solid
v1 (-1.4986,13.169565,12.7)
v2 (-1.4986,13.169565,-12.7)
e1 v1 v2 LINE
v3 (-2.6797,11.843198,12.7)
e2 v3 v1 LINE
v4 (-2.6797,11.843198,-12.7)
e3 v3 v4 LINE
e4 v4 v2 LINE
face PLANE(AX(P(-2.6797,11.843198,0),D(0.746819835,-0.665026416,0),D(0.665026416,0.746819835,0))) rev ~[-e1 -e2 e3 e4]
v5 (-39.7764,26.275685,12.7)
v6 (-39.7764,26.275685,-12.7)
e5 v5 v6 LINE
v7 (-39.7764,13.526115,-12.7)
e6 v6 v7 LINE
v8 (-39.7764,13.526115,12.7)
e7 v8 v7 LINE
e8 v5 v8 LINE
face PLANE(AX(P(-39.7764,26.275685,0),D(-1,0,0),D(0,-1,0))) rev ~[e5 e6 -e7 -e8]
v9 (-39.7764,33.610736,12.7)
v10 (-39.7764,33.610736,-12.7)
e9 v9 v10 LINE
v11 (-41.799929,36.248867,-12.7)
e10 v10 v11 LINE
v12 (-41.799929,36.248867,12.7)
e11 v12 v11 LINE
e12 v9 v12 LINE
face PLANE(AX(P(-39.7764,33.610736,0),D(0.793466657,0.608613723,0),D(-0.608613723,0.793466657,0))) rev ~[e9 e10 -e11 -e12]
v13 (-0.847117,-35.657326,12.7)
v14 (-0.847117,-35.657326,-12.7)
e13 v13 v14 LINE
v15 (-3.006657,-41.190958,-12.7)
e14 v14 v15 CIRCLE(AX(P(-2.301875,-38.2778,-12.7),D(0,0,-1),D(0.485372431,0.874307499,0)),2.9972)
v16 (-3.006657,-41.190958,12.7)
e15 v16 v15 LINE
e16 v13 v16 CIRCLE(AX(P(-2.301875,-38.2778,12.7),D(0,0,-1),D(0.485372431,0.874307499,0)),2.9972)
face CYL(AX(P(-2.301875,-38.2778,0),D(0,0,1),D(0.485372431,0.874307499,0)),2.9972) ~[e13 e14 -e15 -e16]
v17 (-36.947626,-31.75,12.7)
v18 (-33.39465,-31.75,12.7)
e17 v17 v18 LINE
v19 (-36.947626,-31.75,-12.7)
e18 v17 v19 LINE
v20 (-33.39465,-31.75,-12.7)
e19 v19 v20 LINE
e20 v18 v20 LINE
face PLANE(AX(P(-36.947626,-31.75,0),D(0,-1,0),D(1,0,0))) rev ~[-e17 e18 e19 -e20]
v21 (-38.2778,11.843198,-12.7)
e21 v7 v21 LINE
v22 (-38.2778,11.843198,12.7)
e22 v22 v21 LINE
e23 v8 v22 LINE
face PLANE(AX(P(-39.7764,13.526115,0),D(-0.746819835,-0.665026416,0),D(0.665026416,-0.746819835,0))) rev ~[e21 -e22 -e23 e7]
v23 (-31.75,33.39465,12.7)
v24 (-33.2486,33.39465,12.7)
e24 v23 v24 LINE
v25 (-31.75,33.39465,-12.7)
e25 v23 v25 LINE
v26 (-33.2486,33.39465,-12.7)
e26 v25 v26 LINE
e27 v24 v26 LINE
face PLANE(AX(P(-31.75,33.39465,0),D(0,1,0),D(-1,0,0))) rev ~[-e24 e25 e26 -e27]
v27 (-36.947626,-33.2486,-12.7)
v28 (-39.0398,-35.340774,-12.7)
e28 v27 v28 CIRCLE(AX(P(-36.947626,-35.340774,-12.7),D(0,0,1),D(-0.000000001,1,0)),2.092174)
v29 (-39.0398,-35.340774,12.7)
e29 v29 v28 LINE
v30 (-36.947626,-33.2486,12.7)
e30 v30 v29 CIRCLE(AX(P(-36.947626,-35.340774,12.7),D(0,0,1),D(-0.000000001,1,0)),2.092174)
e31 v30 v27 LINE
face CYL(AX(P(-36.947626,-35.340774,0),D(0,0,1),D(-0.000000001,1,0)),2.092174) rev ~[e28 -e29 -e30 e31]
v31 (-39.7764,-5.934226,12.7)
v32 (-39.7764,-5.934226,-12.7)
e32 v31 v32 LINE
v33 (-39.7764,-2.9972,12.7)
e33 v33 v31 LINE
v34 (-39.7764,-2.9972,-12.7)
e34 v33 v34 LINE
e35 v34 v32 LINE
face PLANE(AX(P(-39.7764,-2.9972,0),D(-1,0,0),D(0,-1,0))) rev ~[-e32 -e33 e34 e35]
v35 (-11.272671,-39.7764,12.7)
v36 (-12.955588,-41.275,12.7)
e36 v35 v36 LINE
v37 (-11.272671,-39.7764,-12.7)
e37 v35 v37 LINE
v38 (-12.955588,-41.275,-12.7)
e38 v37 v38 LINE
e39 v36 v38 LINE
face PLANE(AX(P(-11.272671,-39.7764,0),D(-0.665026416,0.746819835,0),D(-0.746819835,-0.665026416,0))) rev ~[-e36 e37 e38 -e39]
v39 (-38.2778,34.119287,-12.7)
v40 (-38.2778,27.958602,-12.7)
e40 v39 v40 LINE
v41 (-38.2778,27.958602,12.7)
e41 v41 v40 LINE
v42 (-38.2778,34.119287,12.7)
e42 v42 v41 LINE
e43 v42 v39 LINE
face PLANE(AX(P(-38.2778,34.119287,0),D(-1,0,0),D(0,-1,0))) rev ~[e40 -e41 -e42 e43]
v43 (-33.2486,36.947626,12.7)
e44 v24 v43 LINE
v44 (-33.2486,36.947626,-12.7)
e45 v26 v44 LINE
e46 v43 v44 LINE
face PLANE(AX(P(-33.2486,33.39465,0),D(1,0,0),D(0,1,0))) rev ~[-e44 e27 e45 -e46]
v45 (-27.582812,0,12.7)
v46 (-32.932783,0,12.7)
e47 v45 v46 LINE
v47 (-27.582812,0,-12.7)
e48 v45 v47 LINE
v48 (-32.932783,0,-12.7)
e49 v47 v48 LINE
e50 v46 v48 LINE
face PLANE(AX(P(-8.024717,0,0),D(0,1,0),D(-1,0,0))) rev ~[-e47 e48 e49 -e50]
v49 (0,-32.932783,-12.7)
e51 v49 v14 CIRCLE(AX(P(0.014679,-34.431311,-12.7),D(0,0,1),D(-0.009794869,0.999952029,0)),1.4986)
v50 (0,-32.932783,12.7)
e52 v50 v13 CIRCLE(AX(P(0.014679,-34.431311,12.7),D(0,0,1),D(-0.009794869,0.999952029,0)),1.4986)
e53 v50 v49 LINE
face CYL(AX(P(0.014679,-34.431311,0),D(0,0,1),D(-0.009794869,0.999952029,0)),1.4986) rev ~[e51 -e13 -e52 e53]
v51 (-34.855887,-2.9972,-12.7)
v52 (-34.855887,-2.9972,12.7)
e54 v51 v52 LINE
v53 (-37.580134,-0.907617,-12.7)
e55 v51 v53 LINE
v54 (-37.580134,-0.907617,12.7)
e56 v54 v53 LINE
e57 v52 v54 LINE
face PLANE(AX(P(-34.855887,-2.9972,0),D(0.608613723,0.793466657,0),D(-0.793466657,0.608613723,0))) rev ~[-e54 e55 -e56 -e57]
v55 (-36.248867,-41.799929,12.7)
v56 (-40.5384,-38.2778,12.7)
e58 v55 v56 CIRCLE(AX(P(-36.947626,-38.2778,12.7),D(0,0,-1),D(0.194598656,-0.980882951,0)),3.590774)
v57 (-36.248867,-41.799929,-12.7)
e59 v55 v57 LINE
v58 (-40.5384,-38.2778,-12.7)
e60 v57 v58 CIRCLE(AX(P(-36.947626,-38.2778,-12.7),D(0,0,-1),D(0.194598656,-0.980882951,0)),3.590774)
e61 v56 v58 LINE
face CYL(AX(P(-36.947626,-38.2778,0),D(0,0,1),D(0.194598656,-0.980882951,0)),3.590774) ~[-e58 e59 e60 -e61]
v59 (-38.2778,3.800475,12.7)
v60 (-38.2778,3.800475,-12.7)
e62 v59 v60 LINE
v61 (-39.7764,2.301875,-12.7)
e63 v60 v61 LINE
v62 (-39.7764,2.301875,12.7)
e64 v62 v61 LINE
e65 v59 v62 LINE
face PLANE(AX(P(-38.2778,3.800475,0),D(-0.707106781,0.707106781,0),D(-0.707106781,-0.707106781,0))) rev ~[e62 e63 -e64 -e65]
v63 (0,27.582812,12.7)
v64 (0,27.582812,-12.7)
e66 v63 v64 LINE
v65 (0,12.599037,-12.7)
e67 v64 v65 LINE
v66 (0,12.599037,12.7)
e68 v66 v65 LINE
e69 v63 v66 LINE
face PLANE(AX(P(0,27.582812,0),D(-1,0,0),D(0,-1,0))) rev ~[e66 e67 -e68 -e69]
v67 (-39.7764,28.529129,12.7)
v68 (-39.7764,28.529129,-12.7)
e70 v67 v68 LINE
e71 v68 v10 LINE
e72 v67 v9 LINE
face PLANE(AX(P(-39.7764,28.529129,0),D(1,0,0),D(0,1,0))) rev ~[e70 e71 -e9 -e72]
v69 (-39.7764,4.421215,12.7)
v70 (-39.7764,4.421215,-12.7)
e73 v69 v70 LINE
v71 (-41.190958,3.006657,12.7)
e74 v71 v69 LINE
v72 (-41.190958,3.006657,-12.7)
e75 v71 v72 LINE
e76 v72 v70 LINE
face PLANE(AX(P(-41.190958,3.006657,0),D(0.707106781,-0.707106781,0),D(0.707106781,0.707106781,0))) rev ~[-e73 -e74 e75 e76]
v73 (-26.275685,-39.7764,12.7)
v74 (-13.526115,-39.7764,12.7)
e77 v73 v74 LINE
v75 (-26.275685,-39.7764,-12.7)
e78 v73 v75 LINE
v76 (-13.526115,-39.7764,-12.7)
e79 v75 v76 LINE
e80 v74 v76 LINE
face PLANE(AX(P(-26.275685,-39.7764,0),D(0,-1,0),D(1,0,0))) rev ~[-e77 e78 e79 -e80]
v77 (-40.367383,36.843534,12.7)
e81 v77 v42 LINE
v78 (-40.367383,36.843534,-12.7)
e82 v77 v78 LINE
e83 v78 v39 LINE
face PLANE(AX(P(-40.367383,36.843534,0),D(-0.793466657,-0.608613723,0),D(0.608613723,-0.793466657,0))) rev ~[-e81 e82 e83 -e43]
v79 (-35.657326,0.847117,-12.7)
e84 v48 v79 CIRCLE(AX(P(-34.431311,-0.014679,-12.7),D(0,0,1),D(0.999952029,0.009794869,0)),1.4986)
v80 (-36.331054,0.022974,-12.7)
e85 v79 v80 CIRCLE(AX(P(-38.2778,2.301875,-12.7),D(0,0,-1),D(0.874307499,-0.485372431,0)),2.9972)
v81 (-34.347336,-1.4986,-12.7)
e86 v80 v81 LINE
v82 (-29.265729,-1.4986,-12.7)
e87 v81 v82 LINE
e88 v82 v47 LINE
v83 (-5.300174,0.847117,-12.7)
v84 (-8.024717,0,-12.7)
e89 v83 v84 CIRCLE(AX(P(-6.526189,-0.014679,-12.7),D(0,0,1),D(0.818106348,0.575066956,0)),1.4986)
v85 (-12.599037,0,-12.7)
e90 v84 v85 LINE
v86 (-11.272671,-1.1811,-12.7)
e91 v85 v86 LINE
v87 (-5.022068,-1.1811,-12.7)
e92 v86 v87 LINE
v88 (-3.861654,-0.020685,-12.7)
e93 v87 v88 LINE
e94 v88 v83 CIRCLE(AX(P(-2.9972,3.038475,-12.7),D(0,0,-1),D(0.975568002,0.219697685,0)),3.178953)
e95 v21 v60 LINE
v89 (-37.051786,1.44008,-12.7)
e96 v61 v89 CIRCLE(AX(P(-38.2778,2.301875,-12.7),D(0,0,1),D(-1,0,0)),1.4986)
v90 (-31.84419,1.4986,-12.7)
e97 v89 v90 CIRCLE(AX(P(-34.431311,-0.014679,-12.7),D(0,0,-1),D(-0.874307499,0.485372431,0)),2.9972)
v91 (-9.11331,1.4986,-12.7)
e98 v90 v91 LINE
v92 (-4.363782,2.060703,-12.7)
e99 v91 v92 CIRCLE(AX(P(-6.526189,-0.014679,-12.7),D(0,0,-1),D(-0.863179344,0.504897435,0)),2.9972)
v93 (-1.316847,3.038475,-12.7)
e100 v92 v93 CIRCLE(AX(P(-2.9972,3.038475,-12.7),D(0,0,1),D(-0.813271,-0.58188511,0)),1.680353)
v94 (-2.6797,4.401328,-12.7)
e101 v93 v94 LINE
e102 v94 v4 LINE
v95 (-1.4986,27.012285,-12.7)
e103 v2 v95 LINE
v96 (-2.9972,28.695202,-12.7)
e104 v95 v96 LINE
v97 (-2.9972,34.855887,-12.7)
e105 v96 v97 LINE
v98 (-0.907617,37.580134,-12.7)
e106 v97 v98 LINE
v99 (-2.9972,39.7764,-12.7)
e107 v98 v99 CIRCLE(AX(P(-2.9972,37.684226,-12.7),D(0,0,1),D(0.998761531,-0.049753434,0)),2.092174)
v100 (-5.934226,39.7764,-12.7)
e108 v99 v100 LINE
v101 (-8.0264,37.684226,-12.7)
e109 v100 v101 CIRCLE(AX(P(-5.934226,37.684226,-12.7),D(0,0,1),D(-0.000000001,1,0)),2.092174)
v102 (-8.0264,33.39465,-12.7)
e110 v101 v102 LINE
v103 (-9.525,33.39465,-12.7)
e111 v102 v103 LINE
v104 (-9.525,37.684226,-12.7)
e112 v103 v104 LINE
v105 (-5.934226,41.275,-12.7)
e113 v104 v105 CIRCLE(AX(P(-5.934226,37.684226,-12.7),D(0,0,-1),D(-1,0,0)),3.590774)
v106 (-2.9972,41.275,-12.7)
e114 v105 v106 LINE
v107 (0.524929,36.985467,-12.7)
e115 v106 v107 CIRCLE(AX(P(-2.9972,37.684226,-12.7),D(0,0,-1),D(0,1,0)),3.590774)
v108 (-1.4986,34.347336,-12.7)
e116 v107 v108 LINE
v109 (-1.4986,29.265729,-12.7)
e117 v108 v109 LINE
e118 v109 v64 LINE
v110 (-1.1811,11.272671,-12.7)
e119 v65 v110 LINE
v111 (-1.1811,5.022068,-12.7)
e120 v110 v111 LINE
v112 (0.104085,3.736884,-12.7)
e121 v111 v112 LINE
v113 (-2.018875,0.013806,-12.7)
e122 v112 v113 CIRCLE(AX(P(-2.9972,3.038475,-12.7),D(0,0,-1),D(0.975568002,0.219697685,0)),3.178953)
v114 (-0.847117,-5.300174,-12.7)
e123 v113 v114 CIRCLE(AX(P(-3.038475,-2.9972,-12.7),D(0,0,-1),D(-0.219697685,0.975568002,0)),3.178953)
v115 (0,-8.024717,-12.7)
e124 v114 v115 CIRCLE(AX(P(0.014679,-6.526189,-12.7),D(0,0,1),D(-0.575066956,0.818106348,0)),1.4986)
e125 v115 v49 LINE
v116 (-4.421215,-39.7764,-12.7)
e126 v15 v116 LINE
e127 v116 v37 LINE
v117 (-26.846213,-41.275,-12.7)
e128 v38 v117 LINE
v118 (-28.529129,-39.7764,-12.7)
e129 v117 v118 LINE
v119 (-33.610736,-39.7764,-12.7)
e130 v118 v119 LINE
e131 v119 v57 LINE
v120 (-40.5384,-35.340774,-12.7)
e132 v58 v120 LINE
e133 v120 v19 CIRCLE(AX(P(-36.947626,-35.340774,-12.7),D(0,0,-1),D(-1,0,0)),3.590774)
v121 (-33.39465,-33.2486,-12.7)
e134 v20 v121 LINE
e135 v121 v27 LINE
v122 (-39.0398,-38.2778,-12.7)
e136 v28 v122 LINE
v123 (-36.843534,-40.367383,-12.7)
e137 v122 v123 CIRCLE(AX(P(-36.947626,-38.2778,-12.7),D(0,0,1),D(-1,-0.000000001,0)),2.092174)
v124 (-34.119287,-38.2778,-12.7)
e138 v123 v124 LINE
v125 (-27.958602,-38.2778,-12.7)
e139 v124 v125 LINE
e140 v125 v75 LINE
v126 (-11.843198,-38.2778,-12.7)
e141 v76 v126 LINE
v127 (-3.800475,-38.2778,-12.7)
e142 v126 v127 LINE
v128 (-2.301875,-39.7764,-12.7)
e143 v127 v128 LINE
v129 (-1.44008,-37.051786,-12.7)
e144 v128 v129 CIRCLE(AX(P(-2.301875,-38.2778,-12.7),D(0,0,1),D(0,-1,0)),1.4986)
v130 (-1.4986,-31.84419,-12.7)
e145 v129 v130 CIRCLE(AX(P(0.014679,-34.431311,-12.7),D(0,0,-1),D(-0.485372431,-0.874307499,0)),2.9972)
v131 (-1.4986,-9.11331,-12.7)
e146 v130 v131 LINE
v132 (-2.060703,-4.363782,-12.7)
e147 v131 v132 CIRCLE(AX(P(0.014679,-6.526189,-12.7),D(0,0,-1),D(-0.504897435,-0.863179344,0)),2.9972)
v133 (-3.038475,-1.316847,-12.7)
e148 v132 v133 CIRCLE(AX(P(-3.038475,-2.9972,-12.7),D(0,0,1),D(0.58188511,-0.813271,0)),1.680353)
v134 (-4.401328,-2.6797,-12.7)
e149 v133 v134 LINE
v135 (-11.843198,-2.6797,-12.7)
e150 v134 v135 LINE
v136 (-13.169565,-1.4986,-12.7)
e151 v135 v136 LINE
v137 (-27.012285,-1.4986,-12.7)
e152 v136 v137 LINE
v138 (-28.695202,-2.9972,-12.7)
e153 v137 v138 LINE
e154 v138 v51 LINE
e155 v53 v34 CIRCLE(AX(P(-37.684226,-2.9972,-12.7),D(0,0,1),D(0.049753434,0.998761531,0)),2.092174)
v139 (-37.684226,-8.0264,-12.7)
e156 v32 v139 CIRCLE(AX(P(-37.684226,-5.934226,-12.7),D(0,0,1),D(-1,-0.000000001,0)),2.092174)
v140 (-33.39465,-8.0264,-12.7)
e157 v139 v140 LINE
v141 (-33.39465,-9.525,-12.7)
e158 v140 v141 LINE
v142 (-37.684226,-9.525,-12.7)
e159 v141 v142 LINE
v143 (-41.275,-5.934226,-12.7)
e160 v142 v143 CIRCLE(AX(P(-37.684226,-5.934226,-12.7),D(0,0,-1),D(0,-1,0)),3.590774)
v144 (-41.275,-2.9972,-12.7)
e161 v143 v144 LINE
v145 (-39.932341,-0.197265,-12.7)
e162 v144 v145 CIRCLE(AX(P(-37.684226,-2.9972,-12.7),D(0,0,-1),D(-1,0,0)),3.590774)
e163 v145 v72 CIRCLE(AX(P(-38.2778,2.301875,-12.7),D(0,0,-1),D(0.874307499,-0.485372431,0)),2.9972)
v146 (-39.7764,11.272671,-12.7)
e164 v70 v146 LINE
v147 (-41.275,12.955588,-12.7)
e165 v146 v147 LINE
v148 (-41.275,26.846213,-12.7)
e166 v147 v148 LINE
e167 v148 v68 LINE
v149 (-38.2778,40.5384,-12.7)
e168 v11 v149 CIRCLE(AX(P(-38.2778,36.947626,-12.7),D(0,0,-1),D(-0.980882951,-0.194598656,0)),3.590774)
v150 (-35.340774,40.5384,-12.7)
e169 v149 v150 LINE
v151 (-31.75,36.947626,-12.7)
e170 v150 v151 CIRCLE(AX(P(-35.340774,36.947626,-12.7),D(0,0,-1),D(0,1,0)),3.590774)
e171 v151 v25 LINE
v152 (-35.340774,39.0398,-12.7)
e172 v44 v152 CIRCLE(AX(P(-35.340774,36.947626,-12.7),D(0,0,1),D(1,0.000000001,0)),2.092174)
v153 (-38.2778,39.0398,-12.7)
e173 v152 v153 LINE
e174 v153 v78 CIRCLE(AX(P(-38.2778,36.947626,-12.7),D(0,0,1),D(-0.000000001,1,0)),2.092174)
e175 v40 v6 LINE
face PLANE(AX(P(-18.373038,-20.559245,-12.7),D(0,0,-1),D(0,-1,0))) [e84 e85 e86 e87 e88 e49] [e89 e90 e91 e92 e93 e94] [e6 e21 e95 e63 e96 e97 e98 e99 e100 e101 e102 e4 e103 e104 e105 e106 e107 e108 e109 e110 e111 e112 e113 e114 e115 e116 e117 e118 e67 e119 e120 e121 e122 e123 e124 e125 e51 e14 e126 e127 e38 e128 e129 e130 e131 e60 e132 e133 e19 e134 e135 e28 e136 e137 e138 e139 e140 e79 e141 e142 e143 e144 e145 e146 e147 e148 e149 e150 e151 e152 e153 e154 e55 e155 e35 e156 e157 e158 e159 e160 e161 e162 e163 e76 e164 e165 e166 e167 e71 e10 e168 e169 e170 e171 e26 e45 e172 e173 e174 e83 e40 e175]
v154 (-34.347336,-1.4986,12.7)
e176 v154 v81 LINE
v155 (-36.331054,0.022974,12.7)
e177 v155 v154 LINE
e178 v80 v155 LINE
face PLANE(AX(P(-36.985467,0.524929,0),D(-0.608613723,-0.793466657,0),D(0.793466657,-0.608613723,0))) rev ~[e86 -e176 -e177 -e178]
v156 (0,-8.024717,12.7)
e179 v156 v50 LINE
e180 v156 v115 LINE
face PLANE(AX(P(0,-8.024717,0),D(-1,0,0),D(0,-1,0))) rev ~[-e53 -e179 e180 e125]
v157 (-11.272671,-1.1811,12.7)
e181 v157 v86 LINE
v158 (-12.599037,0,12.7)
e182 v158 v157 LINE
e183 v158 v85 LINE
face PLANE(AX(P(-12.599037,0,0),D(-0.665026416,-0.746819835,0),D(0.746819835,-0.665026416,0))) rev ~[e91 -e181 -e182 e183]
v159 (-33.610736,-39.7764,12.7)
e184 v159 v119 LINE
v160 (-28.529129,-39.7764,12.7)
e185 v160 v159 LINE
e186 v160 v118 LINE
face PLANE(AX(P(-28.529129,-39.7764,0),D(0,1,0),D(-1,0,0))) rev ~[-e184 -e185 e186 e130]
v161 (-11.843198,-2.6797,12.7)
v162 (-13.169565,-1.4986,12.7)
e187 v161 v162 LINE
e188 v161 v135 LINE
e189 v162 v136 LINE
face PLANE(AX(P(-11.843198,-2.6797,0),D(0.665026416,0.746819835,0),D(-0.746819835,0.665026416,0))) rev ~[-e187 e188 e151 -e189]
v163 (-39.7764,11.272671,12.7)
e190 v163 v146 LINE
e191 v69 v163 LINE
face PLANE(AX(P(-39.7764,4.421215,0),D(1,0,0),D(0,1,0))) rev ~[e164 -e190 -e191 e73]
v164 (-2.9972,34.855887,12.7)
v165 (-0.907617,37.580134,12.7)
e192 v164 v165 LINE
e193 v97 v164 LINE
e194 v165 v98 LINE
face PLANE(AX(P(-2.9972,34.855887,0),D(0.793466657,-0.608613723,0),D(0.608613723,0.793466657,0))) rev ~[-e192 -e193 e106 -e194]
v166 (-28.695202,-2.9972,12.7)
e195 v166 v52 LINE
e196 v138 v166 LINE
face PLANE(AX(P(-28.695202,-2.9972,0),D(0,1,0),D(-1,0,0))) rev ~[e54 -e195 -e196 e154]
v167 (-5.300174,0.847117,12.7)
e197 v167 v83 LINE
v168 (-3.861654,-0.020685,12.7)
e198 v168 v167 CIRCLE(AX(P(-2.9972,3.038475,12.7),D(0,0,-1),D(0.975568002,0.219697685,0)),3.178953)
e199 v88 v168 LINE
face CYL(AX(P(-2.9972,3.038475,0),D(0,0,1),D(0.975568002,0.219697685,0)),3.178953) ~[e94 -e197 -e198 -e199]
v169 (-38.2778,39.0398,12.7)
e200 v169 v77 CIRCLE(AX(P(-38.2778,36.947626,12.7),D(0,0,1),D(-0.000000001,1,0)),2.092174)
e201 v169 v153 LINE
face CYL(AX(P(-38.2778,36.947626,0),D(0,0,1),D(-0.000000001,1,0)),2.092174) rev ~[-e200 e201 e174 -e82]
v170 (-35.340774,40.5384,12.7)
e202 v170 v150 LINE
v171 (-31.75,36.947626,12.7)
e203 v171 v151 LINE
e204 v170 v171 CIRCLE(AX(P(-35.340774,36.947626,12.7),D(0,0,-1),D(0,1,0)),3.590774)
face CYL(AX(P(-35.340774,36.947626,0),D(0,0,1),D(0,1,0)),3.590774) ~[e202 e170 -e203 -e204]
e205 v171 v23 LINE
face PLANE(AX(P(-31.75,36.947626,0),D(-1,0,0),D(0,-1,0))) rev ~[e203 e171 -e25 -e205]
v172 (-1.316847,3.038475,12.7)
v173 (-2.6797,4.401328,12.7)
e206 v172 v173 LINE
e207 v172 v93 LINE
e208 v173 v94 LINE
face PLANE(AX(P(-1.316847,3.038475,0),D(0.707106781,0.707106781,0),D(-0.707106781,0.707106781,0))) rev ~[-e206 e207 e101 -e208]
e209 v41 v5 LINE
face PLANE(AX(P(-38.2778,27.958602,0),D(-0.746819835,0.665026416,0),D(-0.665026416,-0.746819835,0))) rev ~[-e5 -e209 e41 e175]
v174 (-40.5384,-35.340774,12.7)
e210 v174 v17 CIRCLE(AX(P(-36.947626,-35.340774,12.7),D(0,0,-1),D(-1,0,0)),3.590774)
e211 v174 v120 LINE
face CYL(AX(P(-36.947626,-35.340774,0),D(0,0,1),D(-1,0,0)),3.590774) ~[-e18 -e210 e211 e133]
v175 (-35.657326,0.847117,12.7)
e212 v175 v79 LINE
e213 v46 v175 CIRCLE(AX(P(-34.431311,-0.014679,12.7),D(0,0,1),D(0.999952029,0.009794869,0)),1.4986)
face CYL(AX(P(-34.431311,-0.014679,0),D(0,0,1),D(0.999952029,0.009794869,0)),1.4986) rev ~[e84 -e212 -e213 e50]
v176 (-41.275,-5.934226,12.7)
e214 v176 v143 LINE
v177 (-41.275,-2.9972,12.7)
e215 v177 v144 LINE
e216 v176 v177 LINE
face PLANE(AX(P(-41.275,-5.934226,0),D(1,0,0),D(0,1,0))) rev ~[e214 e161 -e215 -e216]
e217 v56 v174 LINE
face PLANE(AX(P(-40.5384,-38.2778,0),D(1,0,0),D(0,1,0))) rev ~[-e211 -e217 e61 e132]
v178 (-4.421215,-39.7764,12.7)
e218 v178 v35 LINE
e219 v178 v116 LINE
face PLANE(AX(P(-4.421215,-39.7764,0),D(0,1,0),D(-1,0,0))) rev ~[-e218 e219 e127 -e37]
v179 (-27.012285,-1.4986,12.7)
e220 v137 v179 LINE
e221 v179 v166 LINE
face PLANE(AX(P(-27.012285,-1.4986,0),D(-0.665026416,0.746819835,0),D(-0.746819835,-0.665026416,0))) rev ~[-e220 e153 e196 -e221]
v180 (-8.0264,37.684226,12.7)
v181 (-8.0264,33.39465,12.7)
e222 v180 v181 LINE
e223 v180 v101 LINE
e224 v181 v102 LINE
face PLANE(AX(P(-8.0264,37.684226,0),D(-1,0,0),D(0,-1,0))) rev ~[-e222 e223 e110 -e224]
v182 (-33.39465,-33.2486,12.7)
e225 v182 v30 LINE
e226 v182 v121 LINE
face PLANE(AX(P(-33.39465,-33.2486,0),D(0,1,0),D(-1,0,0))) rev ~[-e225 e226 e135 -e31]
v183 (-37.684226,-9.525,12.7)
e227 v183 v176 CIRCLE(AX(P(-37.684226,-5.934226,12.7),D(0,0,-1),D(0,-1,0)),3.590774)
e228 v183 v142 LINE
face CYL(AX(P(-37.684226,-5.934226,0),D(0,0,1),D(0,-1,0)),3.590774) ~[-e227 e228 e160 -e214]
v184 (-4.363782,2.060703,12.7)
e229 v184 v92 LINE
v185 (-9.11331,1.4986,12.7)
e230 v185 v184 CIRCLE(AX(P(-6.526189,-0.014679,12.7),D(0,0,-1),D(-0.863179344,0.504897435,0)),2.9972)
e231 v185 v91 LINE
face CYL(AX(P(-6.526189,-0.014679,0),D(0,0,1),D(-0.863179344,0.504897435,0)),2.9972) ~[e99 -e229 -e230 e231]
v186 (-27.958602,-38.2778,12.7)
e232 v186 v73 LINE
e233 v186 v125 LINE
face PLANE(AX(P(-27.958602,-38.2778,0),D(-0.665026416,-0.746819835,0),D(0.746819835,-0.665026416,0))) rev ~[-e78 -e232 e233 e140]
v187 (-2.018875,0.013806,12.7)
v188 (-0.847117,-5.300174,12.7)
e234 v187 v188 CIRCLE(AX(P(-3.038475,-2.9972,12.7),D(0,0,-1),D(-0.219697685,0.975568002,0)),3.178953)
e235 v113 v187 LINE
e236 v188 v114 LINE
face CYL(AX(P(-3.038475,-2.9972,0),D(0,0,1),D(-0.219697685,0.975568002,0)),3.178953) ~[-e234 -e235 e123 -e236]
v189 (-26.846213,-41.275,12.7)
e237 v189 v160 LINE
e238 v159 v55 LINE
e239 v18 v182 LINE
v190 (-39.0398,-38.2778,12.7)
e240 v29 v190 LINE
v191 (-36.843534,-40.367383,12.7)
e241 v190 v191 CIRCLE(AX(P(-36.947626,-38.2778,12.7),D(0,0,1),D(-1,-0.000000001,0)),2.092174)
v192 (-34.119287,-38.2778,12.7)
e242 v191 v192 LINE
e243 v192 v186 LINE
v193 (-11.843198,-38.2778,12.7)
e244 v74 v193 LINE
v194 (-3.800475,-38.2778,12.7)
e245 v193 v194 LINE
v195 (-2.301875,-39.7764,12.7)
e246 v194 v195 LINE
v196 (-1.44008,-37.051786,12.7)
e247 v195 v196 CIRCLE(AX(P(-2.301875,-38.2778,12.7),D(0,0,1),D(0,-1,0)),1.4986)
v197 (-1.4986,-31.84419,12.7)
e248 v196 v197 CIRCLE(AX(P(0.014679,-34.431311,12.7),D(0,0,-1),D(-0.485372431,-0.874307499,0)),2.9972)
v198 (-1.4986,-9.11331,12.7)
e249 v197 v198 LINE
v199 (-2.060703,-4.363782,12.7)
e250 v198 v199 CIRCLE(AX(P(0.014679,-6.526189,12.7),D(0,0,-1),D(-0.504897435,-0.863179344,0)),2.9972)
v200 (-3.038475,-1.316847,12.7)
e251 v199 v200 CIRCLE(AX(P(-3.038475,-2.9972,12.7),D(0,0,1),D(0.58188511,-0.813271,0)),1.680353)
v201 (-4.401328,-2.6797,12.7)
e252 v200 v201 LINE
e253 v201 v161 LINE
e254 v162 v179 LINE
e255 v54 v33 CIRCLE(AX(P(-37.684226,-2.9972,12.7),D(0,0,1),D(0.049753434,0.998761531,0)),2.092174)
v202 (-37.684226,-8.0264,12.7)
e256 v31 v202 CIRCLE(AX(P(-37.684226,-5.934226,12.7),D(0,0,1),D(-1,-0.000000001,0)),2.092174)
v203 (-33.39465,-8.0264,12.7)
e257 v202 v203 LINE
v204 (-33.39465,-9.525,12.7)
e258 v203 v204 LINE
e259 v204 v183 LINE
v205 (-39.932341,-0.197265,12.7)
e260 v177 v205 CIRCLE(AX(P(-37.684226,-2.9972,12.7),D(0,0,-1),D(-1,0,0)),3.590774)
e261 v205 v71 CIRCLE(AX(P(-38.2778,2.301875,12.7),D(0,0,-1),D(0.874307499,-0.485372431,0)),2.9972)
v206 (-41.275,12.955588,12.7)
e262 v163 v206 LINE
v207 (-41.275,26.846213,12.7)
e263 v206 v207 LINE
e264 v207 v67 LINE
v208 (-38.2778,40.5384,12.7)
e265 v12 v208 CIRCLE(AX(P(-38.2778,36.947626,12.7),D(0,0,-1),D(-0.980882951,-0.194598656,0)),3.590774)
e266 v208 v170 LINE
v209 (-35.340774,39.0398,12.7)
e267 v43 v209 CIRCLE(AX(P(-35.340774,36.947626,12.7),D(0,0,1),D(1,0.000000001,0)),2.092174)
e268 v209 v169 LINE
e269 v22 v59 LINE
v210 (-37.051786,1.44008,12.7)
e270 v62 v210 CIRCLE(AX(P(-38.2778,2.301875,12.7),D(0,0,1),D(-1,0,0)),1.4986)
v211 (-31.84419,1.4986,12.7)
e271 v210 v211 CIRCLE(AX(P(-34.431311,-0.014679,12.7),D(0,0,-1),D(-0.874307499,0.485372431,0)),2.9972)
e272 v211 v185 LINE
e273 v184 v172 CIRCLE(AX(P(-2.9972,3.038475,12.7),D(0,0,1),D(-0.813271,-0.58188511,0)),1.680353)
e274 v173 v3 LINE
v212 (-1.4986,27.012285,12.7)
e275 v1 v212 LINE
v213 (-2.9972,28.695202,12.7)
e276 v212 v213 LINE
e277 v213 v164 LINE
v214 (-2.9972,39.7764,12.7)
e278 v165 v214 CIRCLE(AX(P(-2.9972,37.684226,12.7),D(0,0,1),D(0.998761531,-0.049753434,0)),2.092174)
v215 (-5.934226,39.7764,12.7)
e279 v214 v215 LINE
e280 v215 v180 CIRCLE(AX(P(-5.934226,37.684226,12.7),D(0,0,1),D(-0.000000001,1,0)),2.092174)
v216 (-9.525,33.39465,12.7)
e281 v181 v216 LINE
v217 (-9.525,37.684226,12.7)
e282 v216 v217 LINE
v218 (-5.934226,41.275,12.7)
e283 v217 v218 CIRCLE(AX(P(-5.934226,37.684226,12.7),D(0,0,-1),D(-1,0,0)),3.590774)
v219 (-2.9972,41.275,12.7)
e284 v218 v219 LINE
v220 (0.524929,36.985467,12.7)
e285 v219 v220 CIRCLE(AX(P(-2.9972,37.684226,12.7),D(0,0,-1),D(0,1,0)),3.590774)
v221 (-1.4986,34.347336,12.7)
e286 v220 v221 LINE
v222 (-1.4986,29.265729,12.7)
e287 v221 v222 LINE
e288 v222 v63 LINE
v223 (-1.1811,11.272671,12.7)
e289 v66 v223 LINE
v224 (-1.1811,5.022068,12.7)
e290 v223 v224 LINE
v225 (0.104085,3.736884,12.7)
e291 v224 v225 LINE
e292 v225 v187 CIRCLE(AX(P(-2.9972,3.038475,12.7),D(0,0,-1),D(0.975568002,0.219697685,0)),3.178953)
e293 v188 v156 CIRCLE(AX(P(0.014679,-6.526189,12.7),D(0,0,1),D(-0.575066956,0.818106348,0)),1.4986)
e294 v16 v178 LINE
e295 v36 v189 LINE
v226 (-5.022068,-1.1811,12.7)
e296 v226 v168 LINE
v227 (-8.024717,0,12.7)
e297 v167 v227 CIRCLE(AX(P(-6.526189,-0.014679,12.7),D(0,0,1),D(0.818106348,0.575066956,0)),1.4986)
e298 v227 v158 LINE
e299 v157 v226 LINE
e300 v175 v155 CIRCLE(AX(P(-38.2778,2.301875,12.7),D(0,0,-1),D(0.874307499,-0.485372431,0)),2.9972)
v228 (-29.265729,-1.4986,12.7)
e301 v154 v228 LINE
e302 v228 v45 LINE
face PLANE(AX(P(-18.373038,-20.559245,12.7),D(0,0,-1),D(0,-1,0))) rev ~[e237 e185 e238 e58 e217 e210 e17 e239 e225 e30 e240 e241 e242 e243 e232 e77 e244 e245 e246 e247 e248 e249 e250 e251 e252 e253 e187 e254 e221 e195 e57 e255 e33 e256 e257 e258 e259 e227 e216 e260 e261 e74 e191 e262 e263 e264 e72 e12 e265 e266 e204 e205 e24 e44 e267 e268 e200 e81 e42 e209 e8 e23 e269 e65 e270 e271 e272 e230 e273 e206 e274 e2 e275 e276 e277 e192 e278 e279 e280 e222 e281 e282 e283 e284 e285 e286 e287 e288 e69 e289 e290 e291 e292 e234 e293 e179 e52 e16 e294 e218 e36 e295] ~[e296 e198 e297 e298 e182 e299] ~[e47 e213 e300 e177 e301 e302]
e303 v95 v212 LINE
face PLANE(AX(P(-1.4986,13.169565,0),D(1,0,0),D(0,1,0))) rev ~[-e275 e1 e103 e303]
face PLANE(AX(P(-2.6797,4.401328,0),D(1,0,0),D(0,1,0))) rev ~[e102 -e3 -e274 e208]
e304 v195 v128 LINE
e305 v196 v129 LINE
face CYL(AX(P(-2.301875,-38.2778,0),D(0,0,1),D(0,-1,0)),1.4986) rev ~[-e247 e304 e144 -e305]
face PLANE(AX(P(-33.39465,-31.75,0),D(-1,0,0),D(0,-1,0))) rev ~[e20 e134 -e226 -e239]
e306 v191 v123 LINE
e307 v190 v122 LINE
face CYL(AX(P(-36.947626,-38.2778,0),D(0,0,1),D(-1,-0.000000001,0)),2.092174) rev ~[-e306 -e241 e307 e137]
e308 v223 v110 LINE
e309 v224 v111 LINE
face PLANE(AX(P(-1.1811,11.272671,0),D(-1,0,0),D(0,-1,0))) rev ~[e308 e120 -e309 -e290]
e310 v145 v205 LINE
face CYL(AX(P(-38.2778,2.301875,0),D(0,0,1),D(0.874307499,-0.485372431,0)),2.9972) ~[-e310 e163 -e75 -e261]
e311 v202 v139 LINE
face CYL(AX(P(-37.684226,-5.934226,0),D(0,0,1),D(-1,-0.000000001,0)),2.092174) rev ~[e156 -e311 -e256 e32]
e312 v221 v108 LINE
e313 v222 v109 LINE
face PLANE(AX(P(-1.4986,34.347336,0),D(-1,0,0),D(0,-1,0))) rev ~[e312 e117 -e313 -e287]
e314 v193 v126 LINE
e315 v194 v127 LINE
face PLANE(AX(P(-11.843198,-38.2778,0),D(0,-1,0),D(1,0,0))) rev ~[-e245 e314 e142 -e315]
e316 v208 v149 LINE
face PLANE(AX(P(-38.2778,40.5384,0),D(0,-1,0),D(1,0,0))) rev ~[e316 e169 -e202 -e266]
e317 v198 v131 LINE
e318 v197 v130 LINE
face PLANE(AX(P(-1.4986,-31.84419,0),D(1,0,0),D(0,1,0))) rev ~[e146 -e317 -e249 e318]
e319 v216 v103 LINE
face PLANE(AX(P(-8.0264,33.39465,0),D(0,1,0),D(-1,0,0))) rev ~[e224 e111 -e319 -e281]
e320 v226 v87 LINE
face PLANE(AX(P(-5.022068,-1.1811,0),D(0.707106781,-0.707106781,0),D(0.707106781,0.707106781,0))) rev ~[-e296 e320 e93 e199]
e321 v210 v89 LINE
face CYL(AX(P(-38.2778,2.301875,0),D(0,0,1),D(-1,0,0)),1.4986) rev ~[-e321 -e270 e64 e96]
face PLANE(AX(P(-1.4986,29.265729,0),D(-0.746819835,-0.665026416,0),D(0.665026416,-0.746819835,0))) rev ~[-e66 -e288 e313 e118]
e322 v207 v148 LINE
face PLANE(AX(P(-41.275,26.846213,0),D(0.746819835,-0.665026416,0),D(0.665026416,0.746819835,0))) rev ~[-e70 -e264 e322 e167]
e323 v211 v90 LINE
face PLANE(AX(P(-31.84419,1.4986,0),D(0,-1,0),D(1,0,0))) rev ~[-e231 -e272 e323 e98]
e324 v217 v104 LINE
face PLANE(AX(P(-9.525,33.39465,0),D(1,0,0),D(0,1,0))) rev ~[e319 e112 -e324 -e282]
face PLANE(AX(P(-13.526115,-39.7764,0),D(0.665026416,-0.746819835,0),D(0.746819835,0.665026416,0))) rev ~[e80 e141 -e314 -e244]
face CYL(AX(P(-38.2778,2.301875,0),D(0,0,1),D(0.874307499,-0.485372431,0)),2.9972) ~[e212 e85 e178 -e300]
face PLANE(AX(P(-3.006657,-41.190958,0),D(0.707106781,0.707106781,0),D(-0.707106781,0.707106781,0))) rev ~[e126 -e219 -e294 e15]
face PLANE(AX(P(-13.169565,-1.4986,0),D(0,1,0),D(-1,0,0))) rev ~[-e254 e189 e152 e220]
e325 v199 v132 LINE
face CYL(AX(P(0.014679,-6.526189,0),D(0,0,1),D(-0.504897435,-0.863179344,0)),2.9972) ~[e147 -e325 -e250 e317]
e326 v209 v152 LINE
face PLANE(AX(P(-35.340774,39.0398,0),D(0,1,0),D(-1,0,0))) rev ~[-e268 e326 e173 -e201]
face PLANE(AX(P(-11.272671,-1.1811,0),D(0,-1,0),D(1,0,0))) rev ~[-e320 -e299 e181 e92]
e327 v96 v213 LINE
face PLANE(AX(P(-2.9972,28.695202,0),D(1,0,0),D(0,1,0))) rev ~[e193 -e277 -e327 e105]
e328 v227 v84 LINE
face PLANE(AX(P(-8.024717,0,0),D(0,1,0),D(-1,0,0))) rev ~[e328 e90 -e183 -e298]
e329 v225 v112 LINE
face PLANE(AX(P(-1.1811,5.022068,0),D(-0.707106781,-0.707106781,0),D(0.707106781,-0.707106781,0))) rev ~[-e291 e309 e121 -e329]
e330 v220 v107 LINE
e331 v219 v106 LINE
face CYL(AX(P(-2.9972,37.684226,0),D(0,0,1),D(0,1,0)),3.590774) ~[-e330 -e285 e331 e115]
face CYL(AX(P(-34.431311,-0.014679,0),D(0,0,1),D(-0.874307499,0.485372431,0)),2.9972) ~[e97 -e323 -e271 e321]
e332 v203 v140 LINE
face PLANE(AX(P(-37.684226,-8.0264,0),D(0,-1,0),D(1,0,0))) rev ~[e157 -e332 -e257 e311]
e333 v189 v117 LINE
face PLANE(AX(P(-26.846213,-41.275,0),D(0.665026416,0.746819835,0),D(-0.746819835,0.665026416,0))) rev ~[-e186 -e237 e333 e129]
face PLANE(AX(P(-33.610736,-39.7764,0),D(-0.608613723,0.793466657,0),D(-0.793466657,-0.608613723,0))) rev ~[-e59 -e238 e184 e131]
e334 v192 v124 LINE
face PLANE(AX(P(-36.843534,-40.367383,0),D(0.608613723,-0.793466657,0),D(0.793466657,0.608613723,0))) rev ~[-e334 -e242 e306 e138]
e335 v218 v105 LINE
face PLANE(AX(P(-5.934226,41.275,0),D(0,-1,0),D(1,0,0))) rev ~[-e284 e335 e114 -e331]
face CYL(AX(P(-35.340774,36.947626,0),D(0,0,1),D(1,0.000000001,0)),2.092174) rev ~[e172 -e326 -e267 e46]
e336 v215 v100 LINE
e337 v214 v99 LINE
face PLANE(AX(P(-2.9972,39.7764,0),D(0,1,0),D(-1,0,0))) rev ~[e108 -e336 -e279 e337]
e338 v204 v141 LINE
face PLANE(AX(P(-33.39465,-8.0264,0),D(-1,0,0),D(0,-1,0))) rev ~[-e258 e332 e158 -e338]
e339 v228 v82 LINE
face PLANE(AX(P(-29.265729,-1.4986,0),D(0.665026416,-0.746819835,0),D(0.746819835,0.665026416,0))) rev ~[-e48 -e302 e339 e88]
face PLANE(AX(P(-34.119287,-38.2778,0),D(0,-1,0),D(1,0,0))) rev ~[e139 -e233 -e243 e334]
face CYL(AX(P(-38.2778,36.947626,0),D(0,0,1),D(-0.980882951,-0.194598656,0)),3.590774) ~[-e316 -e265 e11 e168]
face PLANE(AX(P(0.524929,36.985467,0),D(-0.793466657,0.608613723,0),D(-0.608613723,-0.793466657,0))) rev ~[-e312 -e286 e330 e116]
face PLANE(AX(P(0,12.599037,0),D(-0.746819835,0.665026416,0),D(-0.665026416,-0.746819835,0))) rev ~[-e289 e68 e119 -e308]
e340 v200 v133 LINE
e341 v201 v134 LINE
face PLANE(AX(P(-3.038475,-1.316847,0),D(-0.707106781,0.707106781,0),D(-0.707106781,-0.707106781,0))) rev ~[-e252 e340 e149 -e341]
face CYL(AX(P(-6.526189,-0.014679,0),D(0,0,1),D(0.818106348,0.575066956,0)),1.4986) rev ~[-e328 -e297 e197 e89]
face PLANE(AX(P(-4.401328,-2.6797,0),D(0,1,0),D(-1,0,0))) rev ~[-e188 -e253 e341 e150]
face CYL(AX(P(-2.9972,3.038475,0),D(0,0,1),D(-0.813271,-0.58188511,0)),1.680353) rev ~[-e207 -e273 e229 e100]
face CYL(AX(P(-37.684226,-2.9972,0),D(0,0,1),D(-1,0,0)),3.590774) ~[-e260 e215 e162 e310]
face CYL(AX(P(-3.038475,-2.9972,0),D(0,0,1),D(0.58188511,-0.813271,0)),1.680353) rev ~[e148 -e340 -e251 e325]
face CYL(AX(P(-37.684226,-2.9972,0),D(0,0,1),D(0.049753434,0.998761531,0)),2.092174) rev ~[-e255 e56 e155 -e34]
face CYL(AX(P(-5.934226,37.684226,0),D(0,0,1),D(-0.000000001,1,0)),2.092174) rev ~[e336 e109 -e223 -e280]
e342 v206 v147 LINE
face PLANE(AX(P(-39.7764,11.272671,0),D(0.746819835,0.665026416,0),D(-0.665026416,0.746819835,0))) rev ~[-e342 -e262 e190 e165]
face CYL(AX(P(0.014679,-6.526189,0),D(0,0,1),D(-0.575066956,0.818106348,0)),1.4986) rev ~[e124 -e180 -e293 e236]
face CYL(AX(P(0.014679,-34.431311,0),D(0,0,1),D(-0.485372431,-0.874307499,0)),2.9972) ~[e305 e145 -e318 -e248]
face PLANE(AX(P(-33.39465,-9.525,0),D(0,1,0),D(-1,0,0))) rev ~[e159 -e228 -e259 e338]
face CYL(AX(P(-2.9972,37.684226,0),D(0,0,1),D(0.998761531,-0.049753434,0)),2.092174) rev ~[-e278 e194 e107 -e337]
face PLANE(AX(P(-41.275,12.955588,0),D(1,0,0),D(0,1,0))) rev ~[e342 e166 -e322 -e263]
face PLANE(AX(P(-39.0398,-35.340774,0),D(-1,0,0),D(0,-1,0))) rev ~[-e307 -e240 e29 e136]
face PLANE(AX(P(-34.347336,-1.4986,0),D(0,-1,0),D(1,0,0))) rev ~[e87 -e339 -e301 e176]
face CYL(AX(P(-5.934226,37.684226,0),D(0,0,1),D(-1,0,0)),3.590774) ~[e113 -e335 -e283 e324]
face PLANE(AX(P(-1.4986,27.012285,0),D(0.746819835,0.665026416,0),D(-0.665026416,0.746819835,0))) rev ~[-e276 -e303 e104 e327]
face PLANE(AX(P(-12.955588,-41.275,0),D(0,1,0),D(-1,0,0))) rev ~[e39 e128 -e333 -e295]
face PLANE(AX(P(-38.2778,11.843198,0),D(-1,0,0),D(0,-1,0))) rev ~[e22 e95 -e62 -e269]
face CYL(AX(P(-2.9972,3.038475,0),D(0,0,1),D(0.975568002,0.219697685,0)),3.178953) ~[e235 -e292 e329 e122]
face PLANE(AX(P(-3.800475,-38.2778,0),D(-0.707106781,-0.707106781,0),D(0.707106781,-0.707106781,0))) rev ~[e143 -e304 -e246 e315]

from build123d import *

# Parameters (mm, degrees)
BASE_EXTRUDE_DEPTH = 12.7
CIRPATTERN1_COUNT  = 2
CIRPATTERN1_ANGLE  = 90


with BuildPart() as part:
    # Sketch1 → Base-Extrude (new, symmetric)
    with BuildSketch(Plane(origin=(-20.32, 17.78, 0), x_dir=(1, 0, 0), z_dir=(0, 0, 1))):
        with BuildLine():
            Line((17.3228, 17.075886512), (19.412382578, 19.800133504))
            ThreePointArc((19.412382578, 19.800133504), (18.838545845, 21.346344632), (17.3228, 21.9964))
            Line((17.3228, 21.9964), (14.38577367, 21.9964))
            ThreePointArc((14.38577367, 21.9964), (12.906383481, 21.383616519), (12.2936, 19.90422633))
            Line((12.2936, 19.90422633), (12.2936, 15.61465))
            Line((12.2936, 15.61465), (10.795, 15.61465))
            Line((10.795, 15.61465), (10.795, 19.90422633))
            ThreePointArc((10.795, 19.90422633), (11.846713258, 22.443286742), (14.38577367, 23.495))
            Line((14.38577367, 23.495), (17.3228, 23.495))
            ThreePointArc((17.3228, 23.495), (20.097934554, 22.182884653), (20.844928673, 19.2054666))
            Line((20.844928673, 19.2054666), (18.8214, 16.567335923))
            Line((18.8214, 16.567335923), (18.8214, 11.485729415))
            Line((18.8214, 11.485729415), (20.32, 9.8028125))
            Line((20.32, 9.8028125), (20.32, -5.180962694))
            Line((20.32, -5.180962694), (19.1389, -6.507329415))
            Line((19.1389, -6.507329415), (19.1389, -12.757931546))
            Line((19.1389, -12.757931546), (20.424084837, -14.043116383))
            ThreePointArc((20.424084837, -14.043116383), (18.821804006, -17.54486751), (15.019825564, -16.932883251))
            ThreePointArc((15.019825564, -16.932883251), (13.348875824, -16.363652979), (12.29528328, -17.78))
            Line((12.29528328, -17.78), (-12.61278328, -17.78))
            ThreePointArc((-12.61278328, -17.78), (-13.666375824, -16.363652979), (-15.337325564, -16.932883251))
            ThreePointArc((-15.337325564, -16.932883251), (-19.047442105, -18.270236732), (-20.870958003, -14.773342558))
            Line((-20.870958003, -14.773342558), (-19.4564, -13.358784555))
            Line((-19.4564, -13.358784555), (-19.4564, -6.507329415))
            Line((-19.4564, -6.507329415), (-20.955, -4.8244125))
            Line((-20.955, -4.8244125), (-20.955, 9.0662125))
            Line((-20.955, 9.0662125), (-19.4564, 10.749129415))
            Line((-19.4564, 10.749129415), (-19.4564, 15.830735923))
            Line((-19.4564, 15.830735923), (-21.479928673, 18.4688666))
            ThreePointArc((-21.479928673, 18.4688666), (-20.732934554, 21.446284653), (-17.9578, 22.7584))
            Line((-17.9578, 22.7584), (-15.02077367, 22.7584))
            ThreePointArc((-15.02077367, 22.7584), (-12.481713258, 21.706686742), (-11.43, 19.16762633))
            Line((-11.43, 19.16762633), (-11.43, 15.61465))
            Line((-11.43, 15.61465), (-12.9286, 15.61465))
            Line((-12.9286, 15.61465), (-12.9286, 19.16762633))
            ThreePointArc((-12.9286, 19.16762633), (-13.541383481, 20.647016519), (-15.02077367, 21.2598))
            Line((-15.02077367, 21.2598), (-17.9578, 21.2598))
            ThreePointArc((-17.9578, 21.2598), (-19.473545845, 20.609744632), (-20.047382578, 19.063533504))
            Line((-20.047382578, 19.063533504), (-17.9578, 16.339286512))
            Line((-17.9578, 16.339286512), (-17.9578, 10.17860201))
            Line((-17.9578, 10.17860201), (-19.4564, 8.495685095))
            Line((-19.4564, 8.495685095), (-19.4564, -4.253885095))
            Line((-19.4564, -4.253885095), (-17.9578, -5.93680201))
            Line((-17.9578, -5.93680201), (-17.9578, -13.979525))
            Line((-17.9578, -13.979525), (-19.4564, -15.478125))
            ThreePointArc((-19.4564, -15.478125), (-18.409738669, -16.906954381), (-16.731785827, -16.33992034))
            ThreePointArc((-16.731785827, -16.33992034), (-14.14499029, -14.797667818), (-11.524190259, -16.2814))
            Line((-11.524190259, -16.2814), (11.206690259, -16.2814))
            ThreePointArc((11.206690259, -16.2814), (13.441553644, -14.818250812), (15.956217628, -15.719297395))
            ThreePointArc((15.956217628, -15.719297395), (17.836242029, -16.3415136), (19.00315301, -14.741525))
            Line((19.00315301, -14.741525), (17.6403, -13.37867199))
            Line((17.6403, -13.37867199), (17.6403, -5.93680201))
            Line((17.6403, -5.93680201), (18.8214, -4.610435289))
            Line((18.8214, -4.610435289), (18.8214, 9.232285095))
            Line((18.8214, 9.232285095), (17.3228, 10.91520201))
            Line((17.3228, 10.91520201), (17.3228, 17.075886512))
        make_face()
    base_extrude = extrude(amount=BASE_EXTRUDE_DEPTH, both=True)

    # CirPattern1: Base-Extrude ×2 about axis
    cirpattern1_axis = Axis((0, 0, 0), (0, 0, 1))
    for i in range(1, CIRPATTERN1_COUNT):
        add(base_extrude.rotate(cirpattern1_axis, i * CIRPATTERN1_ANGLE / (CIRPATTERN1_COUNT - 1)))


solid = part.part
